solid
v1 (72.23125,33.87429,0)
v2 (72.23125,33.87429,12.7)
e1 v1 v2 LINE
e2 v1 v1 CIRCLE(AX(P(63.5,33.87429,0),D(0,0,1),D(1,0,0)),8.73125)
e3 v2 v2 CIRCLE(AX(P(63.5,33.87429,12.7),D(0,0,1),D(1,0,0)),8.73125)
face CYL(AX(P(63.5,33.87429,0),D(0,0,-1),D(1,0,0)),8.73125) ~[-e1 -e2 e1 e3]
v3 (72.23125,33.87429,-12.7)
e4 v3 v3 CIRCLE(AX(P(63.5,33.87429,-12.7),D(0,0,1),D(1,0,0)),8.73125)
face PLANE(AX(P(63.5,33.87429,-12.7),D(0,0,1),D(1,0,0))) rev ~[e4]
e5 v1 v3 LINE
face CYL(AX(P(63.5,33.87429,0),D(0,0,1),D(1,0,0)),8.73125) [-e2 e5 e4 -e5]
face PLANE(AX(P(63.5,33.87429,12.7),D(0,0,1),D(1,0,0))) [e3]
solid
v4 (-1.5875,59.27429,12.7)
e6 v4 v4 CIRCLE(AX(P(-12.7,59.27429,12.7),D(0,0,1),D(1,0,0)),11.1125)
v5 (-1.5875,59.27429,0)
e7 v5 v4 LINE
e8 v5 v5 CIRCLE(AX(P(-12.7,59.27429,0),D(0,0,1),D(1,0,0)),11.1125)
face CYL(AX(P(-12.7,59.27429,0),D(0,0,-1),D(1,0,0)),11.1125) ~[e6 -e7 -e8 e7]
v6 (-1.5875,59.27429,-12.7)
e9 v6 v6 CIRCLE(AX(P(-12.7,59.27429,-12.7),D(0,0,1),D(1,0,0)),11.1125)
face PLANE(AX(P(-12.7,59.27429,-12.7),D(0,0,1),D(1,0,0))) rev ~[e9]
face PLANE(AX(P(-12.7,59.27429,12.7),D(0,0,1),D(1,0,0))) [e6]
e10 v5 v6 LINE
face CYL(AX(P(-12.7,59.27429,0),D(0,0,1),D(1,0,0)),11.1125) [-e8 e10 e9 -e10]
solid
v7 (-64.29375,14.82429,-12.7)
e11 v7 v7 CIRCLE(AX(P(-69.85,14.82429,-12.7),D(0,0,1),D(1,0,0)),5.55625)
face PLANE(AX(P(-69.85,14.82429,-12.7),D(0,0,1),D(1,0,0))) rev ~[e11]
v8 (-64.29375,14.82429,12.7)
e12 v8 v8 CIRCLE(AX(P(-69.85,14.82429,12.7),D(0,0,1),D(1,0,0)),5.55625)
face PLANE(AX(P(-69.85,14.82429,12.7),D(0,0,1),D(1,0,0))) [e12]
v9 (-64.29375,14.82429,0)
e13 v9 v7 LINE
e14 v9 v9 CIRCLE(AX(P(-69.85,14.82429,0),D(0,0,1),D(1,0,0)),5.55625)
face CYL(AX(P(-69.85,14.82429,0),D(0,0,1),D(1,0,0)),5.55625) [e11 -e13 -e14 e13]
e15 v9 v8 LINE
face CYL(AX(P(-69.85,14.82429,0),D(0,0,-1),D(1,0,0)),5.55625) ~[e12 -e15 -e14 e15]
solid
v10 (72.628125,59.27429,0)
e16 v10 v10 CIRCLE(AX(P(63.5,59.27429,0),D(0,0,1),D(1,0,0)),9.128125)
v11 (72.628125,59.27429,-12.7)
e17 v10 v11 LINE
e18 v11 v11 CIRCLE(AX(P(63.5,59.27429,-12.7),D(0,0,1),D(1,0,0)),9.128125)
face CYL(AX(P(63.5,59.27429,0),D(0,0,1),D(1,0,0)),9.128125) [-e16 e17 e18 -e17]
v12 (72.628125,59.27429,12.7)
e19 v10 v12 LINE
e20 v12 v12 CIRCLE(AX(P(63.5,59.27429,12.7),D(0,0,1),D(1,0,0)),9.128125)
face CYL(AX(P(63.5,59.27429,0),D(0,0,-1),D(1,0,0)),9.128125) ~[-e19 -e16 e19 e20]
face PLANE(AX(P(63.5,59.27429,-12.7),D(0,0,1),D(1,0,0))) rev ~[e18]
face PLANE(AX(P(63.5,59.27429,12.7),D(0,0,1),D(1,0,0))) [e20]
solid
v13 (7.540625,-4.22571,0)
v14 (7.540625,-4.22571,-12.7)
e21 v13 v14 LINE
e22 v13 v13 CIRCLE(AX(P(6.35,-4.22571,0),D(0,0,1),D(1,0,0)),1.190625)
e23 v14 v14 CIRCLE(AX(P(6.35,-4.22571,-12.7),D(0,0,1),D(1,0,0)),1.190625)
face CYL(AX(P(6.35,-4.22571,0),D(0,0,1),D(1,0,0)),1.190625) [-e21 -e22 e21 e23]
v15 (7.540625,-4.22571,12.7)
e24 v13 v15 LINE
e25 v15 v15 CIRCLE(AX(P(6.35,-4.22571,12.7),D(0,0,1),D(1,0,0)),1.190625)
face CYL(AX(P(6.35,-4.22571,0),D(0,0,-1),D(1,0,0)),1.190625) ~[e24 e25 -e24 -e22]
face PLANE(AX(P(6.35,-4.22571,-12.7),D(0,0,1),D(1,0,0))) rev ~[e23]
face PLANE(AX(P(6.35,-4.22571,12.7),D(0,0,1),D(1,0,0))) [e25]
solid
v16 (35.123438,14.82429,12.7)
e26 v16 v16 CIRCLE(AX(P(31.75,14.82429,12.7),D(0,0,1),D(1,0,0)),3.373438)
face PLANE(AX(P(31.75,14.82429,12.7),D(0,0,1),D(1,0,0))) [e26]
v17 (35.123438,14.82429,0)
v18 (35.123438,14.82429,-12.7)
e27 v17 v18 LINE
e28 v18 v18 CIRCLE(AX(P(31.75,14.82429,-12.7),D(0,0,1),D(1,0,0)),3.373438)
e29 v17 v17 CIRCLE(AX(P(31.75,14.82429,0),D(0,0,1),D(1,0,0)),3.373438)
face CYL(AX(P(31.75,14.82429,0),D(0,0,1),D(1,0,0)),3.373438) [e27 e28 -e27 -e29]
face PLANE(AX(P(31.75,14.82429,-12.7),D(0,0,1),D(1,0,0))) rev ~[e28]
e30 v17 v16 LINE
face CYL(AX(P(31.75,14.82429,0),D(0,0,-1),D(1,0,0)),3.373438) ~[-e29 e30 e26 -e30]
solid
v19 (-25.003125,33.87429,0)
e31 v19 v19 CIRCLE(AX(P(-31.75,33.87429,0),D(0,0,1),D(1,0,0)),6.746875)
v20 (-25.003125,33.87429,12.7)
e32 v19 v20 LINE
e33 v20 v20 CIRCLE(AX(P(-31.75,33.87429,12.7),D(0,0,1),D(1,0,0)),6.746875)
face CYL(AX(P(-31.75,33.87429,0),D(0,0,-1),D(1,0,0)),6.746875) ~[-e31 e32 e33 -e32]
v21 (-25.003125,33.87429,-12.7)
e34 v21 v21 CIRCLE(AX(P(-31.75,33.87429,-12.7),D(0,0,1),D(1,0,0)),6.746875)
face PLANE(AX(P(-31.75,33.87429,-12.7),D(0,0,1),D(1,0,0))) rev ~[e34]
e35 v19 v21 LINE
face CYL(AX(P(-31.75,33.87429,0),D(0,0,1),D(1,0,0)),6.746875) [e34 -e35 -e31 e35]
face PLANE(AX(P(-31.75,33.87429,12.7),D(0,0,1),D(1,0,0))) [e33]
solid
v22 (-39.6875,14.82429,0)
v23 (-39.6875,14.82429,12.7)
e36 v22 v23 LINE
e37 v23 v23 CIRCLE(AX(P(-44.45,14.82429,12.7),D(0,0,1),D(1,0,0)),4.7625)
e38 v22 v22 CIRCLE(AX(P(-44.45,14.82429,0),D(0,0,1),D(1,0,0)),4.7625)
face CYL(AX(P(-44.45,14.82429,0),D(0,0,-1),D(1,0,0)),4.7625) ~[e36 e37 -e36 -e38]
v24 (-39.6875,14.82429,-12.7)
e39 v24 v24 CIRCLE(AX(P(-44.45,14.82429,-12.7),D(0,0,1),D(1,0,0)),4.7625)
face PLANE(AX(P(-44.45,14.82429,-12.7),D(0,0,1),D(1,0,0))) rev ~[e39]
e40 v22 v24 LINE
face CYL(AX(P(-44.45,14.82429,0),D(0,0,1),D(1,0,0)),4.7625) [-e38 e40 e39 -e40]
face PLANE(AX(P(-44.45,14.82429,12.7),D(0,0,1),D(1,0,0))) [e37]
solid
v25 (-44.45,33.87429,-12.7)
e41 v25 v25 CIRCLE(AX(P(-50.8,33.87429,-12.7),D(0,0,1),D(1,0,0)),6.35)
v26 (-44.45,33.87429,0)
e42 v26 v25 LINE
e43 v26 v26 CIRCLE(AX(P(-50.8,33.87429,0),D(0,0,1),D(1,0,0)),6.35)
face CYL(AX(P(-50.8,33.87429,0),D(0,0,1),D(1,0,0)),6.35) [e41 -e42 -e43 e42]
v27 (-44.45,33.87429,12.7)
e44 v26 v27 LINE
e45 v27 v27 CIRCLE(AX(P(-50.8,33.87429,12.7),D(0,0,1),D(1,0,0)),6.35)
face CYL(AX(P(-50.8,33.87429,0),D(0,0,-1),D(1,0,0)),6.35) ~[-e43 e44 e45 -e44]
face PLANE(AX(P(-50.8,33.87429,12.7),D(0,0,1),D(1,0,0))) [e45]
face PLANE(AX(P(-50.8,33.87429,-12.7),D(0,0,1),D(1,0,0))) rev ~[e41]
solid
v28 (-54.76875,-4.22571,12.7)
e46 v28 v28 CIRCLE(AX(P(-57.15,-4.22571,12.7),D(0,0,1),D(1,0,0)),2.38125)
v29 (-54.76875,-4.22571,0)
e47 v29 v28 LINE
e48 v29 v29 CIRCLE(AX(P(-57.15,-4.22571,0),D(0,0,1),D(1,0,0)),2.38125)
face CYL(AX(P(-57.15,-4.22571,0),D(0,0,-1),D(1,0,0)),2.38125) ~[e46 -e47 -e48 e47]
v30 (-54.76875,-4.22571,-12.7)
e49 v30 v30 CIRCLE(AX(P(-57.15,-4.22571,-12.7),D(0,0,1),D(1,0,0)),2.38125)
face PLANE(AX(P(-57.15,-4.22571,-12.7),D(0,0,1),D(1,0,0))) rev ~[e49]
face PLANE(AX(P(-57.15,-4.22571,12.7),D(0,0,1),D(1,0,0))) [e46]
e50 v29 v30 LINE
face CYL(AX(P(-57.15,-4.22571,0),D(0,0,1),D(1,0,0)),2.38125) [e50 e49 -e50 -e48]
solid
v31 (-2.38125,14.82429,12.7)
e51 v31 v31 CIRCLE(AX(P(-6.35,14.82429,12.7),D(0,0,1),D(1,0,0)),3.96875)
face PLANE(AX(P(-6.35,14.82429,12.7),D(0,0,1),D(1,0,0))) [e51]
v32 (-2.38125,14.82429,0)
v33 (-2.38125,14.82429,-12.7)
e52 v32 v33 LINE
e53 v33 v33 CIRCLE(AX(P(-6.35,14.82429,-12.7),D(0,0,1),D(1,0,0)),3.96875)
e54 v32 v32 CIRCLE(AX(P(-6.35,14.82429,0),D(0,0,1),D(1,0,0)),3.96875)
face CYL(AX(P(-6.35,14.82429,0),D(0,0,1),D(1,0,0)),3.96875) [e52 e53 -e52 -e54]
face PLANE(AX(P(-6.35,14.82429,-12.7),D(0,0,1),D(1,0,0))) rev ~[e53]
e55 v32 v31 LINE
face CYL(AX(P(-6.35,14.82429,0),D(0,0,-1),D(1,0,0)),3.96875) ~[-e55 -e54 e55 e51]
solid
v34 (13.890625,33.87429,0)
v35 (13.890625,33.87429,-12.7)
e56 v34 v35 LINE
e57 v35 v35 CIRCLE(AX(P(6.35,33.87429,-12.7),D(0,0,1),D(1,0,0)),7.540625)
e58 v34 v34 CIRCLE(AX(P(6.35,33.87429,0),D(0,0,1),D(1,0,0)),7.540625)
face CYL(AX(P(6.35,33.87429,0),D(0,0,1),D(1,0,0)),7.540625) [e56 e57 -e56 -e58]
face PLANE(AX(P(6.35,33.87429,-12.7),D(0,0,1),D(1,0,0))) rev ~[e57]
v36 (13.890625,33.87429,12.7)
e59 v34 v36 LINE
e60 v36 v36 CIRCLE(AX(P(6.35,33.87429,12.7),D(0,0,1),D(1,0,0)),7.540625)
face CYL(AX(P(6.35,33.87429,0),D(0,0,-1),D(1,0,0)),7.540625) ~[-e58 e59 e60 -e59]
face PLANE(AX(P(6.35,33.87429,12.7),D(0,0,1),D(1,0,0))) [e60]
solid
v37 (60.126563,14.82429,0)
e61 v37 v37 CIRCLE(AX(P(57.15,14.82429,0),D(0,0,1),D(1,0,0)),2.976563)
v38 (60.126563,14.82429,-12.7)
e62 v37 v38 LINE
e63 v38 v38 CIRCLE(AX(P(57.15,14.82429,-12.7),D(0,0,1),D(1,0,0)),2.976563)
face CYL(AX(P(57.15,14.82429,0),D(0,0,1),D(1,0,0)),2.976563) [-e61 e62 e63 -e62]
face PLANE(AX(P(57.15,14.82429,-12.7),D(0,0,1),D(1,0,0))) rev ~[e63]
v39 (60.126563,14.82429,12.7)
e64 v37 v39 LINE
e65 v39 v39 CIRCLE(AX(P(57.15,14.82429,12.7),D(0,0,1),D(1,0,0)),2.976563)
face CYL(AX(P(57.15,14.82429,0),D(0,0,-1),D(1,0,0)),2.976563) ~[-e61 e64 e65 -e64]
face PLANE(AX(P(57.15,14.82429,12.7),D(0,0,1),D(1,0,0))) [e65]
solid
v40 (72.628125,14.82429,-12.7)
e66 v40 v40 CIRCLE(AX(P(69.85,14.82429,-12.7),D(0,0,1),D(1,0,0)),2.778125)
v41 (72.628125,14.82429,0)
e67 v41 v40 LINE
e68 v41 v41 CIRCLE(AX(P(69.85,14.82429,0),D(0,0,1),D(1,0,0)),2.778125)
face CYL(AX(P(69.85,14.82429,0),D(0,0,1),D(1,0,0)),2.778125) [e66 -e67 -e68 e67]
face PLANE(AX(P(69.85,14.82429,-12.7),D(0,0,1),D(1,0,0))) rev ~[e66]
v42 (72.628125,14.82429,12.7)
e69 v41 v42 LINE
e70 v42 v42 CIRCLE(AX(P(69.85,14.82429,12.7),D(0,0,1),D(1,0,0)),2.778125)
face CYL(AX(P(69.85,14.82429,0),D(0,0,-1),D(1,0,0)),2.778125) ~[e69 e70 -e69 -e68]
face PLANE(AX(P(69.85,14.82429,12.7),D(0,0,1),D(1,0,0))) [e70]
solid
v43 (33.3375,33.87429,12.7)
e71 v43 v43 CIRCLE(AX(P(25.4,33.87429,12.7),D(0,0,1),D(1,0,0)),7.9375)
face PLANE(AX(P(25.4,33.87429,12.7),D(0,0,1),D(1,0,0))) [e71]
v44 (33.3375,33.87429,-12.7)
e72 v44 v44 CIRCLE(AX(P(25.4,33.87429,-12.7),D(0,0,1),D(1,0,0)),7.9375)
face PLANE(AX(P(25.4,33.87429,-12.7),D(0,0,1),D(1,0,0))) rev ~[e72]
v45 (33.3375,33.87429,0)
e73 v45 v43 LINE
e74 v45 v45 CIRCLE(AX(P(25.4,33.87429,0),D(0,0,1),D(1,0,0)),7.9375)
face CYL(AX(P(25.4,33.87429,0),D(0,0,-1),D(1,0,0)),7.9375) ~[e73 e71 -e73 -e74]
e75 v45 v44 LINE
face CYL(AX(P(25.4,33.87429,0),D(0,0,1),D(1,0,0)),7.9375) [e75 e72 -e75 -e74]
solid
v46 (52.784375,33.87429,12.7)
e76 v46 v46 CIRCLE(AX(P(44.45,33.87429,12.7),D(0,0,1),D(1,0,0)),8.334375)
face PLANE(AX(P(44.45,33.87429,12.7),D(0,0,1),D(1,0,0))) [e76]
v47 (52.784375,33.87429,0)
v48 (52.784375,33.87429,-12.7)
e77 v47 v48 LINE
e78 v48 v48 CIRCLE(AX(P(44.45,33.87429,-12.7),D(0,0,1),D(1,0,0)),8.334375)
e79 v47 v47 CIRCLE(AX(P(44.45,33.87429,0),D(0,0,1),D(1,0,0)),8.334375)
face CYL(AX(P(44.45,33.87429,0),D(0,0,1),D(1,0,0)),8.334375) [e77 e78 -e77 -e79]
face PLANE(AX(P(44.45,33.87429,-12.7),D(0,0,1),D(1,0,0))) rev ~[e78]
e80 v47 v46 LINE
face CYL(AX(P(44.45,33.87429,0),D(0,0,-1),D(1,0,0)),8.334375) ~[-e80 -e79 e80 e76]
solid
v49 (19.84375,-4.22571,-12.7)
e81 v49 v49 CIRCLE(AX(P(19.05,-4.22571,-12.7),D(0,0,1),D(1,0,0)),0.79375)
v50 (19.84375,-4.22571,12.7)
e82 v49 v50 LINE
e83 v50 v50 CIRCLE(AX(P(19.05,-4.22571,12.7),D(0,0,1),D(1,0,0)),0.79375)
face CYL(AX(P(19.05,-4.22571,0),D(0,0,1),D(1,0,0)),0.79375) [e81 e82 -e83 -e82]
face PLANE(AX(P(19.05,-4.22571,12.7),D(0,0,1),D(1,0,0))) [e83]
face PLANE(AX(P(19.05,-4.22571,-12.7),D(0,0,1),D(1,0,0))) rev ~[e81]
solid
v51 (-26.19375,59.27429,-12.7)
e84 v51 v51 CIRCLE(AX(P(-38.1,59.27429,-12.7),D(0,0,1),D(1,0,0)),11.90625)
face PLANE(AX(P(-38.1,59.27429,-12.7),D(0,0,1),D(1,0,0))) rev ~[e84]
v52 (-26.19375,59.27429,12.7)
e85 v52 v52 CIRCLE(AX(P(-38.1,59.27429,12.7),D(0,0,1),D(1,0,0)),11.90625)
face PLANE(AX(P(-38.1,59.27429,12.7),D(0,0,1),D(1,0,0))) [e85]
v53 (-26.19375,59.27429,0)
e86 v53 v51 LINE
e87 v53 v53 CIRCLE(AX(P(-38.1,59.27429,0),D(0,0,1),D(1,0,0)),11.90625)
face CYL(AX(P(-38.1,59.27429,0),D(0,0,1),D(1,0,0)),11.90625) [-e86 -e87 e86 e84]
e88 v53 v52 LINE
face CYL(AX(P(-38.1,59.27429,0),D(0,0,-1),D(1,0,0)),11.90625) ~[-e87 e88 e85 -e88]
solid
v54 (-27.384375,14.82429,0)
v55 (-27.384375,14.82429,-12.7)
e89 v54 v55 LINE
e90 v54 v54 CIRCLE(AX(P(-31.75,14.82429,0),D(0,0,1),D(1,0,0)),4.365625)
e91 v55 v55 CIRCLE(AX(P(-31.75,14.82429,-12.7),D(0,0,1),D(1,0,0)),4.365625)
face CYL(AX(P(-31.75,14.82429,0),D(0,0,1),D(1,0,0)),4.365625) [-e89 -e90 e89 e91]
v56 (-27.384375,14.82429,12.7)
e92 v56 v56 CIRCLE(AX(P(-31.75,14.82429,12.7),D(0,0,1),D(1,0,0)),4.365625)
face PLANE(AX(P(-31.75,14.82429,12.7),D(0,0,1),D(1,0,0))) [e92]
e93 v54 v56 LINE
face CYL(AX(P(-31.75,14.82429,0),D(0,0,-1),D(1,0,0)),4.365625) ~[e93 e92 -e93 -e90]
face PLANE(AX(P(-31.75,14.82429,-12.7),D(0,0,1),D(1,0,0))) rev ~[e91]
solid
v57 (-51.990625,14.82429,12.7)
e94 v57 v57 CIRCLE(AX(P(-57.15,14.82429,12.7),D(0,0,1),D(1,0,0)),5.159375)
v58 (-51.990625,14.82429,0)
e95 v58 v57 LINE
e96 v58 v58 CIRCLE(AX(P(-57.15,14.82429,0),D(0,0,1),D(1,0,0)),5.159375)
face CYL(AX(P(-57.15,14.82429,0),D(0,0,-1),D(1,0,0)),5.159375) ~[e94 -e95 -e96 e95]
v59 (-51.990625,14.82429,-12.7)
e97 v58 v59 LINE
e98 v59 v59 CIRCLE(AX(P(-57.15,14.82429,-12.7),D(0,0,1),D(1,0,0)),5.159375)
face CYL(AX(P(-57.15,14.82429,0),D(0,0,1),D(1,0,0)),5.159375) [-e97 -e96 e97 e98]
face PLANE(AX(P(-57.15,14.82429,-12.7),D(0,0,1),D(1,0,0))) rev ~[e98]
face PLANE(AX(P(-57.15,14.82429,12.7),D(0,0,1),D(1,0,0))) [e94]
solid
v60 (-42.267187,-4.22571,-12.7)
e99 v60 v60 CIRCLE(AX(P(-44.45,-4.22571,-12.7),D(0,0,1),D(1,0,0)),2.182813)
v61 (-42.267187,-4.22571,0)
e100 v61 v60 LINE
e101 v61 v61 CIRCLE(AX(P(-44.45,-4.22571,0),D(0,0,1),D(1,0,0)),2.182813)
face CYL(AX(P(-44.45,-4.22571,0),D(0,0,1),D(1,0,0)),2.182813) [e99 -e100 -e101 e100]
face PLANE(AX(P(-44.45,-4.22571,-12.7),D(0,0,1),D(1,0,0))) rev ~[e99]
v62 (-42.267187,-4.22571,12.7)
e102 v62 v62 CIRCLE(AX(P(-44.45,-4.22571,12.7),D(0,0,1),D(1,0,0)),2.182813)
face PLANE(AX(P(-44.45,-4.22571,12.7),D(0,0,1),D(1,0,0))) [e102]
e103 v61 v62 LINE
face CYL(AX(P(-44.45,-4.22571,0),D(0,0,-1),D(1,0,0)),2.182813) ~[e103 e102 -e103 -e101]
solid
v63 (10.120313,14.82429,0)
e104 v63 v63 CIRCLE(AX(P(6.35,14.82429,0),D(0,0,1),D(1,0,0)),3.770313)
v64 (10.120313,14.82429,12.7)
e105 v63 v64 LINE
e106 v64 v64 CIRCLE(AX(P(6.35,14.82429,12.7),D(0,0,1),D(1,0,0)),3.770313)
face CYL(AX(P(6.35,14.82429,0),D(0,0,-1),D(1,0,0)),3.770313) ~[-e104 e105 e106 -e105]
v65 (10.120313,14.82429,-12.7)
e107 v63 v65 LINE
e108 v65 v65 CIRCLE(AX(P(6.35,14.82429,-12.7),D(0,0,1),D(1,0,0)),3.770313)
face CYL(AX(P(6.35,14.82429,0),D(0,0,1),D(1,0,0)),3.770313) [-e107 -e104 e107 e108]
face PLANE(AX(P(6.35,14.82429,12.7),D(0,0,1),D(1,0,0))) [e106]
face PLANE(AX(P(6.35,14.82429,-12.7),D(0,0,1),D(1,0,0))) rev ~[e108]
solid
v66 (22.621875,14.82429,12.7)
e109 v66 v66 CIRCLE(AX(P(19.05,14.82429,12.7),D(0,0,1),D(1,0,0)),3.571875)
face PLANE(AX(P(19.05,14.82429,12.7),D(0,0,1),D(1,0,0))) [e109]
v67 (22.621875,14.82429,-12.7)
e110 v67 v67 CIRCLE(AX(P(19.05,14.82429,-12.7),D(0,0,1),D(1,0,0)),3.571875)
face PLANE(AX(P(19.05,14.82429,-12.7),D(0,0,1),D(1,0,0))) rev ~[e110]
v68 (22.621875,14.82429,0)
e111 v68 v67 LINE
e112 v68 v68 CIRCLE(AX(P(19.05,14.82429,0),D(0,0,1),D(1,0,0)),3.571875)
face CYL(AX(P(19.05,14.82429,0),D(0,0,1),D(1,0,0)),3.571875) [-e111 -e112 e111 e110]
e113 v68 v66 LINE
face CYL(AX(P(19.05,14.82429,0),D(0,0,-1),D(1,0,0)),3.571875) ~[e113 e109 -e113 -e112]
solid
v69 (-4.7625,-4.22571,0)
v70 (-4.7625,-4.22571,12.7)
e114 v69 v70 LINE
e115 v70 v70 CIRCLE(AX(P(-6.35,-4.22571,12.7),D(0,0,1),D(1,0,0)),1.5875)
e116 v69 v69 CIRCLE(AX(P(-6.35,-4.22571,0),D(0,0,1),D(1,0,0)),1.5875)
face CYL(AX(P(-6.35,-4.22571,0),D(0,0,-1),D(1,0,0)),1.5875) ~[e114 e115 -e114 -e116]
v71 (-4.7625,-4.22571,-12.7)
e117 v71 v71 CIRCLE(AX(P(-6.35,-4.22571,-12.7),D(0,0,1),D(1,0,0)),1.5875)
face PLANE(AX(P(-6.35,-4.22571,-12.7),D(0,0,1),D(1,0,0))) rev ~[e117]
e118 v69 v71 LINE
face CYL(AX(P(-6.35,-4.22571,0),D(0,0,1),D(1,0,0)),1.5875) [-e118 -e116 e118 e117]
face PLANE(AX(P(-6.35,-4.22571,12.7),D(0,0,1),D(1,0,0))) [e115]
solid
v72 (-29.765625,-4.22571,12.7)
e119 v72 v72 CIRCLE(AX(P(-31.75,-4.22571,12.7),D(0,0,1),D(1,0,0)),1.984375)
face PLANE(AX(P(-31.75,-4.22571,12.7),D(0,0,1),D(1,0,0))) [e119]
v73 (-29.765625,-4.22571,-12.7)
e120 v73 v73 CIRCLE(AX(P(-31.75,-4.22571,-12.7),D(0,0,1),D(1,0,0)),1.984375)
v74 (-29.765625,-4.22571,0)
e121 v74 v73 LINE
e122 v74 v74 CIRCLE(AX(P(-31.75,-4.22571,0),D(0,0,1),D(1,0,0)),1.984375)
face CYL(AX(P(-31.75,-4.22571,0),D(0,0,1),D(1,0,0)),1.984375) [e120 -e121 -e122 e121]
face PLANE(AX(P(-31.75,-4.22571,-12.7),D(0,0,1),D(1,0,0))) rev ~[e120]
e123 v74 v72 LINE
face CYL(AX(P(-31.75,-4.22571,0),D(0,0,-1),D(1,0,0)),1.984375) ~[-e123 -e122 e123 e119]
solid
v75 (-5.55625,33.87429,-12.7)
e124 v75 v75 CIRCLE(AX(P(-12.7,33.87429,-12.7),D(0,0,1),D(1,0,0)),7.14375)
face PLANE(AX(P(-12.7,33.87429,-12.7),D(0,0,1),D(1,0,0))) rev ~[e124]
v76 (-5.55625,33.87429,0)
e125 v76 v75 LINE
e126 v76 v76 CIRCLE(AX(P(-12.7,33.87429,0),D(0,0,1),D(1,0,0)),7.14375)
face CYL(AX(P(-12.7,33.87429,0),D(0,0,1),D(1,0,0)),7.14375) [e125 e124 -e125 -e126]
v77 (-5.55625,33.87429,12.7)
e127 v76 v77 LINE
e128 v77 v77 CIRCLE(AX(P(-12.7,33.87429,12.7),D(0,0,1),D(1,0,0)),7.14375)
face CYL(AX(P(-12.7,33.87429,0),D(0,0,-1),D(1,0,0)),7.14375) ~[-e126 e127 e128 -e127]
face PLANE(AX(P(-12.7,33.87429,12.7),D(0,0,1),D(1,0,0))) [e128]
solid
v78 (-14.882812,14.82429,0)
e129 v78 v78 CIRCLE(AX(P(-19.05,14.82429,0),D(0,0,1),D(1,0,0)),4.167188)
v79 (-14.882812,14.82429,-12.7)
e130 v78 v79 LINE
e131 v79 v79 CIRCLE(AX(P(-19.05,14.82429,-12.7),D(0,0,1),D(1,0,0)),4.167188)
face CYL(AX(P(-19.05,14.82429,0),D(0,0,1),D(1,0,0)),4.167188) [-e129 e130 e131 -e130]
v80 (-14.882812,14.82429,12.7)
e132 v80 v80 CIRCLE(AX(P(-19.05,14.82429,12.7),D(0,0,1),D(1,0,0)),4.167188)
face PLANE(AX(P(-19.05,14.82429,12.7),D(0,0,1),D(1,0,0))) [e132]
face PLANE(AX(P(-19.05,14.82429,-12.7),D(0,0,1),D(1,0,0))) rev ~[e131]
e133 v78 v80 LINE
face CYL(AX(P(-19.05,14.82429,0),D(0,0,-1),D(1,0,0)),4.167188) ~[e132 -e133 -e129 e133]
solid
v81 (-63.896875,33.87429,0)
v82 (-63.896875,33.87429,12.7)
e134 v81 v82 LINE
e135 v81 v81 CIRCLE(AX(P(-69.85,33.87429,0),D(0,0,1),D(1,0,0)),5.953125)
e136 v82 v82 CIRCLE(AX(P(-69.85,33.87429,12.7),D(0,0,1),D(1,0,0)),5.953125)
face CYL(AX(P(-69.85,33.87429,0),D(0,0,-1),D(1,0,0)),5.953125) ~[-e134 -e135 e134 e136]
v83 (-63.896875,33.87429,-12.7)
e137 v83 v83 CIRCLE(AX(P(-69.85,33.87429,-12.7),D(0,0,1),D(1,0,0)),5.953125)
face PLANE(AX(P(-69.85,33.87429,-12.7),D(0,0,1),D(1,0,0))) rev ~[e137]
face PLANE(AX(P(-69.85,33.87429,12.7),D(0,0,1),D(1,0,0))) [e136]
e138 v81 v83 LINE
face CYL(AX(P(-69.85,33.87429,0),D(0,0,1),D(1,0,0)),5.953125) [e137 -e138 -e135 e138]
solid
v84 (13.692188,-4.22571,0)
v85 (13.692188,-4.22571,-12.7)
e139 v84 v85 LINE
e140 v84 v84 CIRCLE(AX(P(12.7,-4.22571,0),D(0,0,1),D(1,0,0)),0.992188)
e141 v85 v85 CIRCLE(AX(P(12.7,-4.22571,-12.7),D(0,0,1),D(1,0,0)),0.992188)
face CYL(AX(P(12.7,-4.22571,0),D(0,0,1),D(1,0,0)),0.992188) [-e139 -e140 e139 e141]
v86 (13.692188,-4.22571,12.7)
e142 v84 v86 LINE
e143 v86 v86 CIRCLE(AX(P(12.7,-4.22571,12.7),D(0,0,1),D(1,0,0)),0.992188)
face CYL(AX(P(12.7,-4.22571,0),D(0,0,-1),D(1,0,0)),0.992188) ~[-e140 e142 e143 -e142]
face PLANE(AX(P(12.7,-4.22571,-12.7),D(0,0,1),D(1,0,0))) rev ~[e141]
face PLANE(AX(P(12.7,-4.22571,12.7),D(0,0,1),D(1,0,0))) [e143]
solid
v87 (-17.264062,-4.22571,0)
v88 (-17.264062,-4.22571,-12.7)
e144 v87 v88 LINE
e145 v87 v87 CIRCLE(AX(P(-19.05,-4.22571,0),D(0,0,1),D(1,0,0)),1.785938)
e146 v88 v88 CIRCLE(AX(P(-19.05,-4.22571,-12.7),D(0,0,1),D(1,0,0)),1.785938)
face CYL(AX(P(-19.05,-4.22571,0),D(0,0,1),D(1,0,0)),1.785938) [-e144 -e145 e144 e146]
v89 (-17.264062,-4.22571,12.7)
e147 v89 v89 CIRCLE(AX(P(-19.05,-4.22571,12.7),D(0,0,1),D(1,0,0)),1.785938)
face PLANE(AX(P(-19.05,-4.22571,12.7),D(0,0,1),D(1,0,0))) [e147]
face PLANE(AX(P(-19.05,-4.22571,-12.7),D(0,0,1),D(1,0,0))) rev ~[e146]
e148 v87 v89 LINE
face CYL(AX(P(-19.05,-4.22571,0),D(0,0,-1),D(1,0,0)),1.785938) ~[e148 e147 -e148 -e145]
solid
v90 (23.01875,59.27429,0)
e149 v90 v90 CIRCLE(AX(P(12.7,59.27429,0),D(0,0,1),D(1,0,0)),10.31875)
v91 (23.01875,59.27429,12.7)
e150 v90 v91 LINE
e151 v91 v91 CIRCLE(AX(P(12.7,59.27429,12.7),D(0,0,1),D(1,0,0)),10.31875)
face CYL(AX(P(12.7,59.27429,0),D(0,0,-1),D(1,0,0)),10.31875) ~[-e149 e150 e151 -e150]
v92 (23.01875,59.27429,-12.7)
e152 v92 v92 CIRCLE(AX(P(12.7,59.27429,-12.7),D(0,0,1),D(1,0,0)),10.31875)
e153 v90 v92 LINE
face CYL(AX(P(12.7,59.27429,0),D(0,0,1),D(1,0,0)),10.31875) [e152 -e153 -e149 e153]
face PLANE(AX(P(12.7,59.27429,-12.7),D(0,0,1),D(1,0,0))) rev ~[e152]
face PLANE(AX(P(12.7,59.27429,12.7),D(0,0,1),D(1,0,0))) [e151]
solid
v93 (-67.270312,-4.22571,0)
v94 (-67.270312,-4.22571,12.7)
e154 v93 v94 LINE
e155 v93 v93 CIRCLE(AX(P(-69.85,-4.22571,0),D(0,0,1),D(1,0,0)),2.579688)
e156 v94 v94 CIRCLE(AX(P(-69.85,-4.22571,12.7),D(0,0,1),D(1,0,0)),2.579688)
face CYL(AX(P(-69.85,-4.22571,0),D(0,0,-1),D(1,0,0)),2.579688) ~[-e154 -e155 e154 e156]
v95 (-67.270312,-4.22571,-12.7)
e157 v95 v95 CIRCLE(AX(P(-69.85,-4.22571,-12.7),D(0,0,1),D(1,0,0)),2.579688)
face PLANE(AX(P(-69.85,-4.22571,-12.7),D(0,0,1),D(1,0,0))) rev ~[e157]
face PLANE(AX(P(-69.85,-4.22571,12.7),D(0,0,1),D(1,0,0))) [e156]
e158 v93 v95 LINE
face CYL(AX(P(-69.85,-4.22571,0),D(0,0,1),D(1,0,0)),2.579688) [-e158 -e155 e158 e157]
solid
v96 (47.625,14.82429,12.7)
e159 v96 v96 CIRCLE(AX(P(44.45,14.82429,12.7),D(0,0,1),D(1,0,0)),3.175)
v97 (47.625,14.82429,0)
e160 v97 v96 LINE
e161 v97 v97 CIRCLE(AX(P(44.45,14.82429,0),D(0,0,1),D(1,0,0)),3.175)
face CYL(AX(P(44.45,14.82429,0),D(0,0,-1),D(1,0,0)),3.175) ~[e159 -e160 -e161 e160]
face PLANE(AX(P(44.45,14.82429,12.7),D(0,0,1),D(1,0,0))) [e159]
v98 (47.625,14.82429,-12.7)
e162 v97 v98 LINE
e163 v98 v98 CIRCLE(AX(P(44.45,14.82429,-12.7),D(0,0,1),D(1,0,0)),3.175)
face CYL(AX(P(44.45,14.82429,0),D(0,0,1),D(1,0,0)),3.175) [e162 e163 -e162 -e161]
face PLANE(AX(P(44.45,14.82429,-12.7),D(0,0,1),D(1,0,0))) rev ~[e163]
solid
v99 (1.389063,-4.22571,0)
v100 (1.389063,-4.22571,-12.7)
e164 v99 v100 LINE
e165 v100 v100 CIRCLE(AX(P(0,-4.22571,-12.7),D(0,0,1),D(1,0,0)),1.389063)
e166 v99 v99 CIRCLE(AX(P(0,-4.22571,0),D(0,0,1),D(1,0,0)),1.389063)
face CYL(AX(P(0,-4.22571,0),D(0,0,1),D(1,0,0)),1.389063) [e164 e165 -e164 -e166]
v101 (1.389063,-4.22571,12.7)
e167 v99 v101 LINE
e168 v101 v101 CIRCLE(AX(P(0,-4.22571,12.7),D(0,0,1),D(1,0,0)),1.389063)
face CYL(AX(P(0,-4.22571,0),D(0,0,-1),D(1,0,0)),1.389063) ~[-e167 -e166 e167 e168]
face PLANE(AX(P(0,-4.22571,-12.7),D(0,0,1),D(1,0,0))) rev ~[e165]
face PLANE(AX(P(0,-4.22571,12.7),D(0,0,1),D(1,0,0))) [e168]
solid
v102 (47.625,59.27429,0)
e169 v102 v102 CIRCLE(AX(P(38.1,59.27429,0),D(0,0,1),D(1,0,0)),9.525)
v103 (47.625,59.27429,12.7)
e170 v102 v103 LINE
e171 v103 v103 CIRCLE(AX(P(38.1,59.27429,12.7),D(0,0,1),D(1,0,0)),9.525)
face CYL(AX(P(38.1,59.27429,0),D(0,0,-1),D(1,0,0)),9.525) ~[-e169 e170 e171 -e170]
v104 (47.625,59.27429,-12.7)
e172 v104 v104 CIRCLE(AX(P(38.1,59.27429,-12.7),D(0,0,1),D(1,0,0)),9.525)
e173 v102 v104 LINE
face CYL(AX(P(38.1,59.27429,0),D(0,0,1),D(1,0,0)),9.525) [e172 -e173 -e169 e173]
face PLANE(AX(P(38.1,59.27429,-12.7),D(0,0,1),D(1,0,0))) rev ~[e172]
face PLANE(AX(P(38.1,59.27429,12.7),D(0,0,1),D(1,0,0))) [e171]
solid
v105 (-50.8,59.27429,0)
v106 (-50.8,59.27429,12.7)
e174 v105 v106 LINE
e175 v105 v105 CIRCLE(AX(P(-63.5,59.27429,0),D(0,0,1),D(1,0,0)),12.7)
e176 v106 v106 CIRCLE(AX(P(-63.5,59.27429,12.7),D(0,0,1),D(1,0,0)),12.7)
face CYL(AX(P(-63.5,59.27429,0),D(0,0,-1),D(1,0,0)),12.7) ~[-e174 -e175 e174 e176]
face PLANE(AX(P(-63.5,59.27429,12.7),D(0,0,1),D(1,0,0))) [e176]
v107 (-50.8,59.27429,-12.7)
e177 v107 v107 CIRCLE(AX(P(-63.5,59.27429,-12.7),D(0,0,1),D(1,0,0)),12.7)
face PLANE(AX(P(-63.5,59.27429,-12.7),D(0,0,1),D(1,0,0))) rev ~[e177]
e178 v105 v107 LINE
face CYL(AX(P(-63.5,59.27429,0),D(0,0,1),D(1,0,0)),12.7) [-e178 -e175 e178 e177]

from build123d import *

# Parameters (mm, degrees)
F2_R     = 12.7
F2_R_2   = 11.90625
F2_R_3   = 11.1125
F2_R_4   = 10.31875
F2_R_5   = 9.525
F2_R_6   = 9.128125
F2_R_7   = 8.73125
F2_R_8   = 8.334375
F2_R_9   = 7.9375
F2_R_10  = 7.540625
F2_R_11  = 7.14375
F2_R_12  = 6.746875
F2_R_13  = 6.35
F2_R_14  = 5.953125
F2_R_15  = 5.55625
F2_R_16  = 5.159375
F2_R_17  = 4.7625
F2_R_18  = 4.365625
F2_R_19  = 4.167188
F2_R_20  = 3.96875
F2_R_21  = 3.770313
F2_R_22  = 3.571875
F2_R_23  = 3.373438
F2_R_24  = 3.175
F2_R_25  = 2.976563
F2_R_26  = 2.778125
F2_R_27  = 2.579688
F2_R_28  = 2.38125
F2_R_29  = 2.182813
F2_R_30  = 1.984375
F2_R_31  = 1.785938
F2_R_32  = 1.5875
F2_R_33  = 1.389063
F2_R_34  = 1.190625
F2_R_35  = 0.992188
F2_R_36  = 0.79375
F3_DEPTH = 12.7


with BuildPart() as f3:
    # F2 (on Top) → F3 (new body, symmetric)
    with BuildSketch(Plane.XY):
        with Locations((-63.5, 59.27429)):
            Circle(F2_R)
        with Locations((-38.1, 59.27429)):
            Circle(F2_R_2)
        with Locations((-12.7, 59.27429)):
            Circle(F2_R_3)
        with Locations((12.7, 59.27429)):
            Circle(F2_R_4)
        with Locations((38.1, 59.27429)):
            Circle(F2_R_5)
        with Locations((63.5, 59.27429)):
            Circle(F2_R_6)
        with Locations((63.5, 33.87429)):
            Circle(F2_R_7)
        with Locations((44.45, 33.87429)):
            Circle(F2_R_8)
        with Locations((25.4, 33.87429)):
            Circle(F2_R_9)
        with Locations((6.35, 33.87429)):
            Circle(F2_R_10)
        with Locations((-12.7, 33.87429)):
            Circle(F2_R_11)
        with Locations((-31.75, 33.87429)):
            Circle(F2_R_12)
        with Locations((-50.8, 33.87429)):
            Circle(F2_R_13)
        with Locations((-69.85, 33.87429)):
            Circle(F2_R_14)
        with Locations((-69.85, 14.82429)):
            Circle(F2_R_15)
        with Locations((-57.15, 14.82429)):
            Circle(F2_R_16)
        with Locations((-44.45, 14.82429)):
            Circle(F2_R_17)
        with Locations((-31.75, 14.82429)):
            Circle(F2_R_18)
        with Locations((-19.05, 14.82429)):
            Circle(F2_R_19)
        with Locations((-6.35, 14.82429)):
            Circle(F2_R_20)
        with Locations((6.35, 14.82429)):
            Circle(F2_R_21)
        with Locations((19.05, 14.82429)):
            Circle(F2_R_22)
        with Locations((31.75, 14.82429)):
            Circle(F2_R_23)
        with Locations((44.45, 14.82429)):
            Circle(F2_R_24)
        with Locations((57.15, 14.82429)):
            Circle(F2_R_25)
        with Locations((69.85, 14.82429)):
            Circle(F2_R_26)
        with Locations((-69.85, -4.22571)):
            Circle(F2_R_27)
        with Locations((-57.15, -4.22571)):
            Circle(F2_R_28)
        with Locations((-44.45, -4.22571)):
            Circle(F2_R_29)
        with Locations((-31.75, -4.22571)):
            Circle(F2_R_30)
        with Locations((-19.05, -4.22571)):
            Circle(F2_R_31)
        with Locations((-6.35, -4.22571)):
            Circle(F2_R_32)
        with Locations((0, -4.22571)):
            Circle(F2_R_33)
        with Locations((6.35, -4.22571)):
            Circle(F2_R_34)
        with Locations((12.7, -4.22571)):
            Circle(F2_R_35)
        with Locations((19.05, -4.22571)):
            Circle(F2_R_36)
    extrude(amount=F3_DEPTH, both=True)


solid = f3.part
